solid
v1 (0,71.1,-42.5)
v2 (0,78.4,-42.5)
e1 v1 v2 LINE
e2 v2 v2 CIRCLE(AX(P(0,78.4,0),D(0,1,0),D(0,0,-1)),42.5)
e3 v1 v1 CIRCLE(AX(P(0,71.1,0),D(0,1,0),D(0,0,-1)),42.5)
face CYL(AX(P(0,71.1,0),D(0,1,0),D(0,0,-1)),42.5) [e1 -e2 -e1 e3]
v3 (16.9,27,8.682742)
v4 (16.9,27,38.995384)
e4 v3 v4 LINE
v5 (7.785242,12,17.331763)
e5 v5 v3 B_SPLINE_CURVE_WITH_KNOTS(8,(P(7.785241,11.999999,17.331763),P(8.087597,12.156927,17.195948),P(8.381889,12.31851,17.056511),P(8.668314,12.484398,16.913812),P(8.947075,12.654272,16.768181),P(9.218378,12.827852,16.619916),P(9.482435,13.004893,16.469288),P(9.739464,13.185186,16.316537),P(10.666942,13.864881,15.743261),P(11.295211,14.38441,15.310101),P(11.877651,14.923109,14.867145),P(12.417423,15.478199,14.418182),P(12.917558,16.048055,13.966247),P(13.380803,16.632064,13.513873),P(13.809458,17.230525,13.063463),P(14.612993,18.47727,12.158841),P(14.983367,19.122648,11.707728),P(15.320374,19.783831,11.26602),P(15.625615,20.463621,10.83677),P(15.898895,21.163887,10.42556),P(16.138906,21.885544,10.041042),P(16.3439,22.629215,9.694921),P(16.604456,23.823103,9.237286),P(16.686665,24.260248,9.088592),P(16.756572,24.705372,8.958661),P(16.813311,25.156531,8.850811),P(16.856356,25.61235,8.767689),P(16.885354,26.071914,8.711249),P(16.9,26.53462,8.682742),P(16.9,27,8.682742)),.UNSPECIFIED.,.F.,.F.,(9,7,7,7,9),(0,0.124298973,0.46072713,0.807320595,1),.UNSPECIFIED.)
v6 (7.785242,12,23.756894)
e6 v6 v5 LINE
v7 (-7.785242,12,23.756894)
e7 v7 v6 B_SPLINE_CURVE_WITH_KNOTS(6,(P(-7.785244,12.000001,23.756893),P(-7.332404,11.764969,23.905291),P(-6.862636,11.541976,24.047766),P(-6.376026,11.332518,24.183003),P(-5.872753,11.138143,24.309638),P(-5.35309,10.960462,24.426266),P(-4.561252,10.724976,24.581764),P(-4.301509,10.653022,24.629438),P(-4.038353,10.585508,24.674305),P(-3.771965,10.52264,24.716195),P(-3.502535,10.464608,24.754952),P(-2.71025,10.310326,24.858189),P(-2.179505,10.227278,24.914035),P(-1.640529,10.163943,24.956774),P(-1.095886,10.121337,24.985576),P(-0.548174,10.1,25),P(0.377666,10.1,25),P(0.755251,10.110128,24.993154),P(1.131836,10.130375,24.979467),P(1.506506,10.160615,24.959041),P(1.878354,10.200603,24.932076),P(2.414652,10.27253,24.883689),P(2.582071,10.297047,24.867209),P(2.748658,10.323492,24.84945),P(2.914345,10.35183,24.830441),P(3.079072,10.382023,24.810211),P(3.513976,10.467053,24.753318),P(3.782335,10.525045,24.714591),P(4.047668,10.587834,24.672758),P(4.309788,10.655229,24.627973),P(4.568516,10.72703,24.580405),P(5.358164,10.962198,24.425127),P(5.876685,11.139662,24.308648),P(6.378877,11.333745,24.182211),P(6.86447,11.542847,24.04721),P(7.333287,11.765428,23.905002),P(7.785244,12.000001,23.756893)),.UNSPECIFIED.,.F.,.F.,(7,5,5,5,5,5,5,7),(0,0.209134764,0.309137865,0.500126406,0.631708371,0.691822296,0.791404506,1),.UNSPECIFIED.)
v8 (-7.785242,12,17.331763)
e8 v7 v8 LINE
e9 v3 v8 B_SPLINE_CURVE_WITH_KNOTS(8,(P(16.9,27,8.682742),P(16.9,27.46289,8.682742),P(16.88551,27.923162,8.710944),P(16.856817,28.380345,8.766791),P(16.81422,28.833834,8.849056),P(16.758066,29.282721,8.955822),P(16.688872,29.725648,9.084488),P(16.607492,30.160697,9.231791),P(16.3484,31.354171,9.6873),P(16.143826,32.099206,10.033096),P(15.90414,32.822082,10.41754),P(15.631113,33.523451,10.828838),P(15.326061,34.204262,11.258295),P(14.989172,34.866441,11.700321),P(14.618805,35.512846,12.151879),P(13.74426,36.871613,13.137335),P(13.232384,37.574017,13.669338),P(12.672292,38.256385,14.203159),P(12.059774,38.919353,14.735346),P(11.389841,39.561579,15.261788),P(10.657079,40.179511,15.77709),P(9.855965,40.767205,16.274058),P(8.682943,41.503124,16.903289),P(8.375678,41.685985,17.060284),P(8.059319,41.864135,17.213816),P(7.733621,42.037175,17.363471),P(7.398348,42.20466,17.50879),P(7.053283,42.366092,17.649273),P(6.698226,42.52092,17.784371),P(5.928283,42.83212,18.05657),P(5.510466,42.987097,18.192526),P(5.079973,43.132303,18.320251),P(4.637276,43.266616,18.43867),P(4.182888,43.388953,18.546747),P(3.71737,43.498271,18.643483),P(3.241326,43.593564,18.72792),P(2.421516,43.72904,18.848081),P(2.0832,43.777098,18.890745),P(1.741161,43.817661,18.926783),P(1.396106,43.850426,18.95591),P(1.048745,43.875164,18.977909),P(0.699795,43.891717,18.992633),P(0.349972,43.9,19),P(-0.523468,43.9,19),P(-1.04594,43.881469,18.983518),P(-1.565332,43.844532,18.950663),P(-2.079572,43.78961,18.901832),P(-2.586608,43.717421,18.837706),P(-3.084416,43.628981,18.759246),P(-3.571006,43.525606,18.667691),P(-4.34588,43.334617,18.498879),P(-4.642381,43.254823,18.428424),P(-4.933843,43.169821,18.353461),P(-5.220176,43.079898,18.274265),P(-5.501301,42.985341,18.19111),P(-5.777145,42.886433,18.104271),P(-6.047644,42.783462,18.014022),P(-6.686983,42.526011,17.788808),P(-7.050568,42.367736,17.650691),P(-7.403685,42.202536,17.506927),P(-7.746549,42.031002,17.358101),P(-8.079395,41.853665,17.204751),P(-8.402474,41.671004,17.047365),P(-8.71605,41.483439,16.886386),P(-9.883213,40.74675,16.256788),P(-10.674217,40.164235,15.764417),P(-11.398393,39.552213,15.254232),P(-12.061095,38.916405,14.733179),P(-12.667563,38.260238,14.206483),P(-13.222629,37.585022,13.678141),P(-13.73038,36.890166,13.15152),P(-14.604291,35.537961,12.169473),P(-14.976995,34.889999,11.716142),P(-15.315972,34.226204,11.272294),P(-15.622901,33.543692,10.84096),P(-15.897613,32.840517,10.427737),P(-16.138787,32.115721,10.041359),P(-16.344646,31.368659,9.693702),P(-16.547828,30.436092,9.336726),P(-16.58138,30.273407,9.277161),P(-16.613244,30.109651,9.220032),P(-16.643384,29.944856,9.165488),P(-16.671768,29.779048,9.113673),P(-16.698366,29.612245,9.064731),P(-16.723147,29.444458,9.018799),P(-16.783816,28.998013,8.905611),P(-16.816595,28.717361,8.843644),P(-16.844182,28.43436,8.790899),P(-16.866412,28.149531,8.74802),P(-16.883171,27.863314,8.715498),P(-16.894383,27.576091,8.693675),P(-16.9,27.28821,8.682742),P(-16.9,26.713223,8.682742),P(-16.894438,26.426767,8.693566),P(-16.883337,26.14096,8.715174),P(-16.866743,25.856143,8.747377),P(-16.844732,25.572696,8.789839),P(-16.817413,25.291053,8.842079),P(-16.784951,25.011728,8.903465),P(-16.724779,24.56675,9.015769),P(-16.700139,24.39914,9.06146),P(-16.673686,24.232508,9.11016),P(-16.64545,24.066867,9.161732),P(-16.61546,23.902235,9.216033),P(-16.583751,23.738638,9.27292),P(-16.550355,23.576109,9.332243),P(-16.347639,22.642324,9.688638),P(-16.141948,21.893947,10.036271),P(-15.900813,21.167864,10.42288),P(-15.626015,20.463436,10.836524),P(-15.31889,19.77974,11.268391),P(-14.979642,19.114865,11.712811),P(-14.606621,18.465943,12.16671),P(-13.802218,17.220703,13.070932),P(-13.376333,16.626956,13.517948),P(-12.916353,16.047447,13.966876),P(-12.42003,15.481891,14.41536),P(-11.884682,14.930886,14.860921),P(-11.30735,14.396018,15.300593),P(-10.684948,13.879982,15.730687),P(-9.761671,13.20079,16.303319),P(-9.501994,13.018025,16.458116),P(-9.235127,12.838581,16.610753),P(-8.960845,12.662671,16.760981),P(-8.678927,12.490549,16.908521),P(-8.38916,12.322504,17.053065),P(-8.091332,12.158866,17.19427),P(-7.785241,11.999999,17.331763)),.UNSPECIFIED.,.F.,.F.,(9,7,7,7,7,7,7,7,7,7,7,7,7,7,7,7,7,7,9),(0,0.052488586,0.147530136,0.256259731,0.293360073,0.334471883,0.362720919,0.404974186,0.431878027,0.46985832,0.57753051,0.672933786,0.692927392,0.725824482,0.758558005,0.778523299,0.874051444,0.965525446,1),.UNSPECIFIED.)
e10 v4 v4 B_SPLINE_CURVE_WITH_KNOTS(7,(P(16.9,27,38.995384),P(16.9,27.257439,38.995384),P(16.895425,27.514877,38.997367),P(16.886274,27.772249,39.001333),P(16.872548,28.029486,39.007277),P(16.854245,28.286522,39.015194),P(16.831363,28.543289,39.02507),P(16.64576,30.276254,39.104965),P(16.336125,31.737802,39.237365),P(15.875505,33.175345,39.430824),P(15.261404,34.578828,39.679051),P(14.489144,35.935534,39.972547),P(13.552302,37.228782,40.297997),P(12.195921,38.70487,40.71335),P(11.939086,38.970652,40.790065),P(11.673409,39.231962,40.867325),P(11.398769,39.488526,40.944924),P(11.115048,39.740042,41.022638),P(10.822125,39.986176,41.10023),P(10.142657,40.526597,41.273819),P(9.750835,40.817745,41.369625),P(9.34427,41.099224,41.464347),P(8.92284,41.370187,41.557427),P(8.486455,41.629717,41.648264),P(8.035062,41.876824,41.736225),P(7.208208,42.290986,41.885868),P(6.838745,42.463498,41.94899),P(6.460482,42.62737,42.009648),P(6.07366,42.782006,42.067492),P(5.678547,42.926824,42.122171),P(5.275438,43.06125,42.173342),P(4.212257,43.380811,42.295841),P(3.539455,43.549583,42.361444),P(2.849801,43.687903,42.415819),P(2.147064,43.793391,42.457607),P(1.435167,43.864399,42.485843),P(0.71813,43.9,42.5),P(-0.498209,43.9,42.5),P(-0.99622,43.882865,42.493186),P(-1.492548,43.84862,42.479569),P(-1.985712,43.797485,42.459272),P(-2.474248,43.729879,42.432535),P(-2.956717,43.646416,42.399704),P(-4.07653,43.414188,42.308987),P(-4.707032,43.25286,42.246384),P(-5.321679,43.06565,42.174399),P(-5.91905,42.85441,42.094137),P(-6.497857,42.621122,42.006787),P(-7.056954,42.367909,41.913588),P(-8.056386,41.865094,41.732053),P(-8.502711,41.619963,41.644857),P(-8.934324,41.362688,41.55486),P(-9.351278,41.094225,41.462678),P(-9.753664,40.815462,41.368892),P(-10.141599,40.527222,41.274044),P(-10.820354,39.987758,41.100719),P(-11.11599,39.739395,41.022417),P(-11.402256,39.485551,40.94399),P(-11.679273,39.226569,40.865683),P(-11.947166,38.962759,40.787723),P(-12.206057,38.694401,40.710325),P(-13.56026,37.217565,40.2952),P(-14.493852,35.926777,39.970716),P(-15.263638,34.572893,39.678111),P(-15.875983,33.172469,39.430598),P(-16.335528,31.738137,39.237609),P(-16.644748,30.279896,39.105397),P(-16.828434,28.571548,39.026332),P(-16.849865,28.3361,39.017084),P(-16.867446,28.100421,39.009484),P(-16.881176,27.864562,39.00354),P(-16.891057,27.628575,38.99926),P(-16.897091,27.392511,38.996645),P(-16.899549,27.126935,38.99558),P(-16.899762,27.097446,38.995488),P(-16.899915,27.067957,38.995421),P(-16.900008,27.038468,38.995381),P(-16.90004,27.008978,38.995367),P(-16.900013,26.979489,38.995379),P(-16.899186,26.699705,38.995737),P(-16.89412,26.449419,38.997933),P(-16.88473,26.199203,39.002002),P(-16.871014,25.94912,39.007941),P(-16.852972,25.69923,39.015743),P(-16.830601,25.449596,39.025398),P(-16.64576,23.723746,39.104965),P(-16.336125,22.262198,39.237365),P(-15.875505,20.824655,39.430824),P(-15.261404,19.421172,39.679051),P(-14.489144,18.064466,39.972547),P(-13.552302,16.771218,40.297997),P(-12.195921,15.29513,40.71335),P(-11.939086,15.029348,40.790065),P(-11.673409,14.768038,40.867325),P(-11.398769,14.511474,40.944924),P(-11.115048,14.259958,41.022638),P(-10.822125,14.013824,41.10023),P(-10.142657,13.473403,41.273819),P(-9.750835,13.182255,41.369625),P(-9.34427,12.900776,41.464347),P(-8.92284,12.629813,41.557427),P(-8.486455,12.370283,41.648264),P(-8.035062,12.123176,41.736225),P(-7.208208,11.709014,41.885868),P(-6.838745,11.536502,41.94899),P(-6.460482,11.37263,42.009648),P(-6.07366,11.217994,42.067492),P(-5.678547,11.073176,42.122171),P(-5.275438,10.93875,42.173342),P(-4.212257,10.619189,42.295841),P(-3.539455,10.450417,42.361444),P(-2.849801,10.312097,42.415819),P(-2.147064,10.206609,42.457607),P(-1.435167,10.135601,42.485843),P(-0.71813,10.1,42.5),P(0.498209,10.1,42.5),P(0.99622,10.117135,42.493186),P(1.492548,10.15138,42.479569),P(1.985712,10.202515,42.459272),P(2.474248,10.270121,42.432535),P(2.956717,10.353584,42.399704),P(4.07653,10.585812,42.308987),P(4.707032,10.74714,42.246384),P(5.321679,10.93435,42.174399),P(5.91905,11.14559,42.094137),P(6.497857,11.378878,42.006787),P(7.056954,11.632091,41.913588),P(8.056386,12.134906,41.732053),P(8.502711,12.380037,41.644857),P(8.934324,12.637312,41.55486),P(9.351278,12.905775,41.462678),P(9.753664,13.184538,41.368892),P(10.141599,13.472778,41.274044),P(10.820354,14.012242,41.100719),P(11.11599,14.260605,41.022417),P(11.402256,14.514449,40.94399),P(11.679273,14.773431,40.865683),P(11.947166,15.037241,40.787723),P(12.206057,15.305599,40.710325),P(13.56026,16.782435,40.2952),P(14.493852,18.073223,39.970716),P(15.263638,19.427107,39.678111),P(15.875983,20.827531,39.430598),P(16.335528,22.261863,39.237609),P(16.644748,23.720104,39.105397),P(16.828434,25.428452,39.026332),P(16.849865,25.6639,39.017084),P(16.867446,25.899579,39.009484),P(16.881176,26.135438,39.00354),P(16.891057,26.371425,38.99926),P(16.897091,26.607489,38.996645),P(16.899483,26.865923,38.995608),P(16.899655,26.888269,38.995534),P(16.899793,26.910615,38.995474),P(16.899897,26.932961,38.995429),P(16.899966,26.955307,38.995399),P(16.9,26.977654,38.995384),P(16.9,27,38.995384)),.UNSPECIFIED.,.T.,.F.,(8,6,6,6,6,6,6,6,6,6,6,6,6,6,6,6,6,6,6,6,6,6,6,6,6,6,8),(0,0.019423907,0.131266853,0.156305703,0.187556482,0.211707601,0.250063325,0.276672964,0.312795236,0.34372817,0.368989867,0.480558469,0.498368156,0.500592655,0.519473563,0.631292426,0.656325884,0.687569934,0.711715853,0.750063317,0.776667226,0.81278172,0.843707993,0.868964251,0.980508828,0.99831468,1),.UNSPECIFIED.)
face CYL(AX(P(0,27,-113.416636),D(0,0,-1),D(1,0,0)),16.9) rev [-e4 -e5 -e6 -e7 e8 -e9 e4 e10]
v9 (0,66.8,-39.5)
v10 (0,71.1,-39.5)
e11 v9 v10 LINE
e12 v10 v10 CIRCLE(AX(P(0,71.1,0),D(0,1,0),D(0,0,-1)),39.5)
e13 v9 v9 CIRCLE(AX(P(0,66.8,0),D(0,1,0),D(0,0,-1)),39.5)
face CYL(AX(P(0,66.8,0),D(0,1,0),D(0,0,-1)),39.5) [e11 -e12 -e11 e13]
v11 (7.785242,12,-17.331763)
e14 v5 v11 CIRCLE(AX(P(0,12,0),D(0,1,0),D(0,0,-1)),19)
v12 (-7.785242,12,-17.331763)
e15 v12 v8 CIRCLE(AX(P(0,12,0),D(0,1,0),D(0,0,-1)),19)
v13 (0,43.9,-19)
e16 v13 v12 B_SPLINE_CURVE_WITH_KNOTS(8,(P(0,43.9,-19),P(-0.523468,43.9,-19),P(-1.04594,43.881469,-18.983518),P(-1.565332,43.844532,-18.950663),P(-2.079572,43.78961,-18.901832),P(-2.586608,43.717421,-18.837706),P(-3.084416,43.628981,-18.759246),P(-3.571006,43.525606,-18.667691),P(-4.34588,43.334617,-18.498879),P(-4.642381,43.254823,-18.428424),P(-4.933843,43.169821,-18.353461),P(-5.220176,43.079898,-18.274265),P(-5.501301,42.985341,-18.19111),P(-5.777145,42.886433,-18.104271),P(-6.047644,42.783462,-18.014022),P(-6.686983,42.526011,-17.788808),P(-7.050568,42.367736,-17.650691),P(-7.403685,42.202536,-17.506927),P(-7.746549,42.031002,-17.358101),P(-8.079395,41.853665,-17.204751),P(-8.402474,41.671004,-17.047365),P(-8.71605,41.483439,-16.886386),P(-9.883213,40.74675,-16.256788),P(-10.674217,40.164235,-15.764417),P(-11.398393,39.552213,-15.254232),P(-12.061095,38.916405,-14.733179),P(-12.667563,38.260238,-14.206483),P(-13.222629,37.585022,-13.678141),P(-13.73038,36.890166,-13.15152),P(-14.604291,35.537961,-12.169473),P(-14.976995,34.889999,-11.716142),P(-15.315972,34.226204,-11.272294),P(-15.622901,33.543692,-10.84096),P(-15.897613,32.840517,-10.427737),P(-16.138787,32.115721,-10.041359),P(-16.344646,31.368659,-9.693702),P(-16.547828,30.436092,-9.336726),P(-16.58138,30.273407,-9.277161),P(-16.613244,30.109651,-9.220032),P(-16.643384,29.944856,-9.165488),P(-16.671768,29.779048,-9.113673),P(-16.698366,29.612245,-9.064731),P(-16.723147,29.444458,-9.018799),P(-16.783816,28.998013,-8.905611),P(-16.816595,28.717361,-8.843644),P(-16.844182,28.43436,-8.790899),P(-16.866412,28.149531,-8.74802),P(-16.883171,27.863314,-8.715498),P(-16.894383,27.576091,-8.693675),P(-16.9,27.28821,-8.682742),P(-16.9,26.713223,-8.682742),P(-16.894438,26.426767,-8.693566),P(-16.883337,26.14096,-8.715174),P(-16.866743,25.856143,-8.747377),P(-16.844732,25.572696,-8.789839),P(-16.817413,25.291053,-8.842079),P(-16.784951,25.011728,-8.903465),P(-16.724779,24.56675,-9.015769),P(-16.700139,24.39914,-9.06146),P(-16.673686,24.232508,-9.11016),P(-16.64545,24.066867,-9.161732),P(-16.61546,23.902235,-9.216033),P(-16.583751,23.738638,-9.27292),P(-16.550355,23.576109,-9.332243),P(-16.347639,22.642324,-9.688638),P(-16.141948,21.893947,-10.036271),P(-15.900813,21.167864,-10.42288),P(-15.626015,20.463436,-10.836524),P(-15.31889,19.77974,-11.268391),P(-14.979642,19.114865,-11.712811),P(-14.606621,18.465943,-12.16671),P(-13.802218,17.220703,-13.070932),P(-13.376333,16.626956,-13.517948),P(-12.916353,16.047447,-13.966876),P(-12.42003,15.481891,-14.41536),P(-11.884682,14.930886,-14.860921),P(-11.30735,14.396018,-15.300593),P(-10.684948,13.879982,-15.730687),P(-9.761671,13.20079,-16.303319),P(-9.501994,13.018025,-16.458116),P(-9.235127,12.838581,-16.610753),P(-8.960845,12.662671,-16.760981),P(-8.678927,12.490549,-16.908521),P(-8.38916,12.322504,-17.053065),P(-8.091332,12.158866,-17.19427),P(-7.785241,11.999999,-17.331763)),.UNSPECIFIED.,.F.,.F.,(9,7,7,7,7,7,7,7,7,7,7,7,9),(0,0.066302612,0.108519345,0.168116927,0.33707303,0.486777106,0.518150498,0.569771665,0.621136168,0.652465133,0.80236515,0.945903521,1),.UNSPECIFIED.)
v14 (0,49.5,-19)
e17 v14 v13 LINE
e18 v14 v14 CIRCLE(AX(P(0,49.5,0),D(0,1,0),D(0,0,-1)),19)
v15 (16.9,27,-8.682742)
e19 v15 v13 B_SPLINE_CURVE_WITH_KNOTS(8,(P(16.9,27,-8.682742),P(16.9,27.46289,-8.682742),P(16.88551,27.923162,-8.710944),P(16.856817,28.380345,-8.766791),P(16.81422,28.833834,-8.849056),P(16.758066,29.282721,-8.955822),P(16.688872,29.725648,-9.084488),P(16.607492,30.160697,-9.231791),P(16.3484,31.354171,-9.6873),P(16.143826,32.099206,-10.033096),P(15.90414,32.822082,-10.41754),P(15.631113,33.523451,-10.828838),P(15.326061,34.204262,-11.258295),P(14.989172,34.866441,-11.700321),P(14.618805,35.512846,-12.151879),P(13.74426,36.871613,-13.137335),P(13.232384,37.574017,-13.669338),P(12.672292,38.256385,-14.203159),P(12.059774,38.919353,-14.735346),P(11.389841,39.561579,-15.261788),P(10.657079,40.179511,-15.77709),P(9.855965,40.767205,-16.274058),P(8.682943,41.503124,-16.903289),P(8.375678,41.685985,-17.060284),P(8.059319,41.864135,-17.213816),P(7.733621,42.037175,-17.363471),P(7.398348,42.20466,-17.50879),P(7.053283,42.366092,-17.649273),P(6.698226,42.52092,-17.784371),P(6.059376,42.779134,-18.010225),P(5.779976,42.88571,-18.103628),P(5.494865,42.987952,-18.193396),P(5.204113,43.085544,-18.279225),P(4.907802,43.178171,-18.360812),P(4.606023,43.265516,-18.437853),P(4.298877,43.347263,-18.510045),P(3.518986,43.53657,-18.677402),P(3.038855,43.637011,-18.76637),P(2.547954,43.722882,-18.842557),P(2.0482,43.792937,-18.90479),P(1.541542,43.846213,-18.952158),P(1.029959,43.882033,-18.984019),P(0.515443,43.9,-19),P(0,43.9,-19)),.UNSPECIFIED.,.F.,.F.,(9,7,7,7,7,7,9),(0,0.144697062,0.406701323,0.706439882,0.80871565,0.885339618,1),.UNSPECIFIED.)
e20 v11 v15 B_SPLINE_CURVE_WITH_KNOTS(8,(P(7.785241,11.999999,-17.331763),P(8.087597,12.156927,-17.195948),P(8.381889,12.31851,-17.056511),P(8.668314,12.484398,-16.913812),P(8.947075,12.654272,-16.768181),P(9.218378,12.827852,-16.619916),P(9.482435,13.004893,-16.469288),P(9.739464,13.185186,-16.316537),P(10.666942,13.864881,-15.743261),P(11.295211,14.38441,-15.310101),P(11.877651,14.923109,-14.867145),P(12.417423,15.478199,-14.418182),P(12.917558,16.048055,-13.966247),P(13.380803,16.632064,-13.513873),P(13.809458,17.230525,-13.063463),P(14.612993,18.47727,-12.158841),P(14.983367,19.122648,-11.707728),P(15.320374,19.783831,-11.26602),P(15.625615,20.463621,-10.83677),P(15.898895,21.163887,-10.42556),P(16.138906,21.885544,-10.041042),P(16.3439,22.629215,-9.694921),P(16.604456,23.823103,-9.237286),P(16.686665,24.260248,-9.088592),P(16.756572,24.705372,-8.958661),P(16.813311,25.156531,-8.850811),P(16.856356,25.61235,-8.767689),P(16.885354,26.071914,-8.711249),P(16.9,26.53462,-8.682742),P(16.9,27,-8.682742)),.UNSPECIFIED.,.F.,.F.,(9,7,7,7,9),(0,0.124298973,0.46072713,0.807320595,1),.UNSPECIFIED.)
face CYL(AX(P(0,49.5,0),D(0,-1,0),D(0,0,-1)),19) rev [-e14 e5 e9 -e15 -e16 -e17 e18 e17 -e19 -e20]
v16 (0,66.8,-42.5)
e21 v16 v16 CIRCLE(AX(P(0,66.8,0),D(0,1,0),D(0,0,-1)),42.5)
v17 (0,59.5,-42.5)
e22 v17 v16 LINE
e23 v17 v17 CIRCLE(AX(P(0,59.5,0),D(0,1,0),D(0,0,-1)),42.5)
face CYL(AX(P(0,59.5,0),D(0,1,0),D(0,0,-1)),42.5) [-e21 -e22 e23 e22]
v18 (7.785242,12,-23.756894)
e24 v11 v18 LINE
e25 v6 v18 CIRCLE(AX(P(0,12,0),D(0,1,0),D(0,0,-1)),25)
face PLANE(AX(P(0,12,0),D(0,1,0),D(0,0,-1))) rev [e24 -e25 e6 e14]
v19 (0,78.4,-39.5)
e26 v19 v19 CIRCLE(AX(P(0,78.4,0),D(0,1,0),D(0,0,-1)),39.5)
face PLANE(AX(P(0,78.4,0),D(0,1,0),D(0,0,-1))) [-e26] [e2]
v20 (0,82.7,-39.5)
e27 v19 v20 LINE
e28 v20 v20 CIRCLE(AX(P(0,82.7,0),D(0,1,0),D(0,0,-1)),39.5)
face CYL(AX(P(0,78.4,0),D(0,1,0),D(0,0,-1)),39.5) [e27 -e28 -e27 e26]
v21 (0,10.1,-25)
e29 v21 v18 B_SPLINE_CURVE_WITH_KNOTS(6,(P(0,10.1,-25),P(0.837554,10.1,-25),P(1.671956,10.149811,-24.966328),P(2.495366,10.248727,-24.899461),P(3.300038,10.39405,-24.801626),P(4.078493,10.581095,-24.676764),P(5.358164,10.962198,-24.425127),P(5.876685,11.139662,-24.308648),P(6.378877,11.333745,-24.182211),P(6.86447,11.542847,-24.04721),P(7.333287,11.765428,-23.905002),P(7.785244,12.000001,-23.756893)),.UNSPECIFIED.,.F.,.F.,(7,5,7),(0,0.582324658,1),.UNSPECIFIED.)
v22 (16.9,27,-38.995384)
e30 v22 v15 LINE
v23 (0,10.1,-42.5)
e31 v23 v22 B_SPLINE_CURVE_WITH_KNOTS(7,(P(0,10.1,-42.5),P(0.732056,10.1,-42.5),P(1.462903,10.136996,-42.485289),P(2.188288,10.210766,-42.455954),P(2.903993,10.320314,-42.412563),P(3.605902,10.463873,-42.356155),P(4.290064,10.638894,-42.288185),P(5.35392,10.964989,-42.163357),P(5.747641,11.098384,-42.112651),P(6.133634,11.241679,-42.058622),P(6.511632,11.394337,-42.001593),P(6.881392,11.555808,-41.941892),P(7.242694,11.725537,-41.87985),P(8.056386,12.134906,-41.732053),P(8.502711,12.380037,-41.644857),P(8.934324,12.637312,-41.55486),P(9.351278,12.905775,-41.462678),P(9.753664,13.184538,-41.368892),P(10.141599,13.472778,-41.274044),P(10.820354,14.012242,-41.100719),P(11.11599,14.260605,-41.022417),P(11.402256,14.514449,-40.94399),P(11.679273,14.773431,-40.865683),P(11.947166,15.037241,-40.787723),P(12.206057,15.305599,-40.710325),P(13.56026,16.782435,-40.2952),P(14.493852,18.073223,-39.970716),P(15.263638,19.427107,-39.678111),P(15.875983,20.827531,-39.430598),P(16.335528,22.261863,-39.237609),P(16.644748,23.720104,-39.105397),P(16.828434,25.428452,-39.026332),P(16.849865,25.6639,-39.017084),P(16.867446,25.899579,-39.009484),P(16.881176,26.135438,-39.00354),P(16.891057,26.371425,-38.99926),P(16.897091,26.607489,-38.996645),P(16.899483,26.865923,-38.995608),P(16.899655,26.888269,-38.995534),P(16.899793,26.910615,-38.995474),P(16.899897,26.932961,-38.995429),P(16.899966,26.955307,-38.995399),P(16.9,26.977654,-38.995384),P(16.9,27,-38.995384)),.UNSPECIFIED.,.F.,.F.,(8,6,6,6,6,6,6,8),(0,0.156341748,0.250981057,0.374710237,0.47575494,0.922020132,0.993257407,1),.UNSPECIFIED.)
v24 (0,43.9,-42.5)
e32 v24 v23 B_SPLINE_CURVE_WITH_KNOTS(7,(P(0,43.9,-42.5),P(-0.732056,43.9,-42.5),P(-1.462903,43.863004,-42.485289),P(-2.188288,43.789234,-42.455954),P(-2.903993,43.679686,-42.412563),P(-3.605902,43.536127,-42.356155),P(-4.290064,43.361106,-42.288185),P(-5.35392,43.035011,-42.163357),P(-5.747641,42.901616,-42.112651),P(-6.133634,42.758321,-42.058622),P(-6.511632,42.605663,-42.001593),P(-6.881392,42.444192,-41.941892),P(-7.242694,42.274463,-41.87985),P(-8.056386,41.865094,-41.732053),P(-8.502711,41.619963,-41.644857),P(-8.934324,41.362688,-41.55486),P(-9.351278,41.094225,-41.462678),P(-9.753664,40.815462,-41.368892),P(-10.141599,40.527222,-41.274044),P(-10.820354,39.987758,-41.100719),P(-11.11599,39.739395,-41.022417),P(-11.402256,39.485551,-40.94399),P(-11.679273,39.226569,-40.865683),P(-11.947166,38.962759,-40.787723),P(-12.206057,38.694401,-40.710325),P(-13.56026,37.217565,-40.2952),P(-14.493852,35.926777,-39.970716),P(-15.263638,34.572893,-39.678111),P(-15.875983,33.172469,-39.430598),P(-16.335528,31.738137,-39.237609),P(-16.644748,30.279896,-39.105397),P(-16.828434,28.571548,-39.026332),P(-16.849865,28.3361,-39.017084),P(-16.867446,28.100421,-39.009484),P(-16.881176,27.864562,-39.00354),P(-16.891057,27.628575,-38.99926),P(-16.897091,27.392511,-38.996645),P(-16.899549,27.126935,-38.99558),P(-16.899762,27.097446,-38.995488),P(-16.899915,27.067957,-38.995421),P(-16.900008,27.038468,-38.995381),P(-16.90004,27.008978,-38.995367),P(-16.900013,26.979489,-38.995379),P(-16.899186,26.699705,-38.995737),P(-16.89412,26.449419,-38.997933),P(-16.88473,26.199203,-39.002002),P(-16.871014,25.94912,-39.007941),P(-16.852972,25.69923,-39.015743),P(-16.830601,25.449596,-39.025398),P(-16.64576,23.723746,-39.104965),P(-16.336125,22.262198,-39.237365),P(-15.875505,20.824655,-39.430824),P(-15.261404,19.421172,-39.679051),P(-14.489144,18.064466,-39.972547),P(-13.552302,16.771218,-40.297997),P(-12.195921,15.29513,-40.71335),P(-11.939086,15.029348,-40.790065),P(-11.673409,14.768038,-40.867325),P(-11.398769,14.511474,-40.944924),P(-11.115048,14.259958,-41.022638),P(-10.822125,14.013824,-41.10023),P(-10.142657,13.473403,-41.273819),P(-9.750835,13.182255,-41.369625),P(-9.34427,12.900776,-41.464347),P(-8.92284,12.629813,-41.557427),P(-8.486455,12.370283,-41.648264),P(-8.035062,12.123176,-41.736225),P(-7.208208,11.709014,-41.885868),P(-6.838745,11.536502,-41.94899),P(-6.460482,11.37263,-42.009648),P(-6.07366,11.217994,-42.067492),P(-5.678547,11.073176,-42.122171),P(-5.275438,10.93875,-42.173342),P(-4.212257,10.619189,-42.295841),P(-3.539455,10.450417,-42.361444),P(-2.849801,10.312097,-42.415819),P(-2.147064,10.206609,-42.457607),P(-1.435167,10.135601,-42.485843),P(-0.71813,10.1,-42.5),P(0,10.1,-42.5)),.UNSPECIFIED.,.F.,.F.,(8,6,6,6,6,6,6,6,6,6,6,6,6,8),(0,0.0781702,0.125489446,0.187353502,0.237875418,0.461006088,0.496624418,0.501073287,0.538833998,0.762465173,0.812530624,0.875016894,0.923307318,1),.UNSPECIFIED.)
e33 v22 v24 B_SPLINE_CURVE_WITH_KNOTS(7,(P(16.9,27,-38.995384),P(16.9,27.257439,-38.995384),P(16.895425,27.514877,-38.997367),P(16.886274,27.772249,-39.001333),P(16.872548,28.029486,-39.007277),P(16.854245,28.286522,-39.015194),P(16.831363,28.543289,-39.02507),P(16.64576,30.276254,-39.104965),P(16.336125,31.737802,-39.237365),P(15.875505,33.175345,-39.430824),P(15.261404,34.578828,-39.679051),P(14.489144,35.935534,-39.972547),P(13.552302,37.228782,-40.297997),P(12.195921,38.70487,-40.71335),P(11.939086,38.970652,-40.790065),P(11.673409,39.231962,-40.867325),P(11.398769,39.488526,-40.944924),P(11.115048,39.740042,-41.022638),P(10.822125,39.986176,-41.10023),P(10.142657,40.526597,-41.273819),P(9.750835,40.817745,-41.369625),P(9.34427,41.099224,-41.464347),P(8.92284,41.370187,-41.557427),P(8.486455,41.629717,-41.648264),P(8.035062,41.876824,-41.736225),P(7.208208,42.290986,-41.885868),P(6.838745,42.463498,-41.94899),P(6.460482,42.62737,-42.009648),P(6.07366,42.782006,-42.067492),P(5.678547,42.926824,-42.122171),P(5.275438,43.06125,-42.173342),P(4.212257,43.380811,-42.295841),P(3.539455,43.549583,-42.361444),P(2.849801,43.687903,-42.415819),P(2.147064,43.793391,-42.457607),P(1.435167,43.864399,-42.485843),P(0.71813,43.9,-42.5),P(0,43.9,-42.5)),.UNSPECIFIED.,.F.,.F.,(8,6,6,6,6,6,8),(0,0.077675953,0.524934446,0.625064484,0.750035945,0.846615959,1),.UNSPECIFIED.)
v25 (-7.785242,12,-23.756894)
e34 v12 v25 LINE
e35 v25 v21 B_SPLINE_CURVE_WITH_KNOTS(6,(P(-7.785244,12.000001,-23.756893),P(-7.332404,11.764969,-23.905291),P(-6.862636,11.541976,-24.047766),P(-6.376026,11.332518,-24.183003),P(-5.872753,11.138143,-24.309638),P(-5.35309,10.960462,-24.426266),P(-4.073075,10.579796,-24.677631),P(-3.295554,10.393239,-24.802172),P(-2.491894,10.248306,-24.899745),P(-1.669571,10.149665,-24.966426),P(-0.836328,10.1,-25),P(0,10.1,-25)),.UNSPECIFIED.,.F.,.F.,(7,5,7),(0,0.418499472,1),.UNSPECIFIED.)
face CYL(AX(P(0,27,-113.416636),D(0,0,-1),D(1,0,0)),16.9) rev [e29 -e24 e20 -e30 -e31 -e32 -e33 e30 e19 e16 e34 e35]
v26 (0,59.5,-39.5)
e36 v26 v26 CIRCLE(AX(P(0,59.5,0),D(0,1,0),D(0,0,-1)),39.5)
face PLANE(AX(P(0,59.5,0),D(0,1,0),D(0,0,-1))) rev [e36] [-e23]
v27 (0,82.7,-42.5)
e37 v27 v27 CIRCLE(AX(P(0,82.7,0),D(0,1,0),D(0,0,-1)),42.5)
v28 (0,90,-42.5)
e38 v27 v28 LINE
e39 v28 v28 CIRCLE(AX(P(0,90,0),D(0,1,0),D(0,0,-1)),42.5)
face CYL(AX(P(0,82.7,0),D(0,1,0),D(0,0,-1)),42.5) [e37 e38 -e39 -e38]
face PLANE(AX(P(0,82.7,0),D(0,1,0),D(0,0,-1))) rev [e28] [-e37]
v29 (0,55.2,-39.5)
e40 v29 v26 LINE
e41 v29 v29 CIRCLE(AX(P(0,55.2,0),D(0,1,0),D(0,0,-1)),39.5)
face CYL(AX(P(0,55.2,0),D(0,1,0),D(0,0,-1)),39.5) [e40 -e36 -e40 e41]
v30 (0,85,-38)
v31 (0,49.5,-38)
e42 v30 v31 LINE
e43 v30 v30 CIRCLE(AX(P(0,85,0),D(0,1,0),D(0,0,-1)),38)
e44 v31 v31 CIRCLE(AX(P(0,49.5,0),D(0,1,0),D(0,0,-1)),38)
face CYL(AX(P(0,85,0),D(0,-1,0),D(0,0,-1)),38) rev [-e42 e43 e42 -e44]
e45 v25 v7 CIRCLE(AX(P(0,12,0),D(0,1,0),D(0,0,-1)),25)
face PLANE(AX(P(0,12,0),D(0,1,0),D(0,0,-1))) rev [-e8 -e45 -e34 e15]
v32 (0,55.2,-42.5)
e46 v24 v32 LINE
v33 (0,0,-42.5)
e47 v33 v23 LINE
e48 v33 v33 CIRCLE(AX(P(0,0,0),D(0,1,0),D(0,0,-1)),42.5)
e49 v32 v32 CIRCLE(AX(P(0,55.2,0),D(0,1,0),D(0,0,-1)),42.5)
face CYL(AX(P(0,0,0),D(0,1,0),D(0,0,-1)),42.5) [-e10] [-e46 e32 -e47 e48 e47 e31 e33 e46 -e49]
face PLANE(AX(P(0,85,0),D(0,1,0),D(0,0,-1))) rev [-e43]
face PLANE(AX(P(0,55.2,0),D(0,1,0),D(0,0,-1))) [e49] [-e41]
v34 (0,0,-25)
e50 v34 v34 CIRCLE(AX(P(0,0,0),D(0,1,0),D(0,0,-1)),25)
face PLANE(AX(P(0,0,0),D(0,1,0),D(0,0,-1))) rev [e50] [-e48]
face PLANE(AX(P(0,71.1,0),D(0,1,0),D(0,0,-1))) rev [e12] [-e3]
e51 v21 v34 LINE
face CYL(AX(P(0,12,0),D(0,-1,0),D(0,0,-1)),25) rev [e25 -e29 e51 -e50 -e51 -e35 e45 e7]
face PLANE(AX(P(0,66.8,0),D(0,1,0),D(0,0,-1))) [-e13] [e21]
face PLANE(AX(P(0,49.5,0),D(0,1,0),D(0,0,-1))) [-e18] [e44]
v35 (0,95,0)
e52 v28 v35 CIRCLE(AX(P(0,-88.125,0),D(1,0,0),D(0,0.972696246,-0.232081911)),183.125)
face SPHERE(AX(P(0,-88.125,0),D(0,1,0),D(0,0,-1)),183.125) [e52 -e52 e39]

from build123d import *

# Parameters (mm, degrees)
CUT_EXTRUDE1_DEPTH      = 113.41663578
CUT_EXTRUDE1_DEPTH_BACK = 113.41663578
SKETCH6_R               = 16.9


with BuildPart() as part:
    # Sketch5 → Revolve1 (revolve)
    with BuildSketch(Plane.XY, mode=Mode.PRIVATE) as revolve1_sk:
        with BuildLine():
            Line((25, 0), (42.5, 0))
            Line((42.5, 0), (42.5, 55.2))
            Line((42.5, 55.2), (39.5, 55.2))
            Line((39.5, 55.2), (39.5, 59.5))
            Line((39.5, 59.5), (42.5, 59.5))
            Line((42.5, 59.5), (42.5, 66.8))
            Line((42.5, 66.8), (39.5, 66.8))
            Line((39.5, 66.8), (39.5, 71.1))
            Line((39.5, 71.1), (42.5, 71.1))
            Line((42.5, 71.1), (42.5, 78.4))
            Line((42.5, 78.4), (39.5, 78.4))
            Line((39.5, 78.4), (39.5, 82.7))
            Line((39.5, 82.7), (42.5, 82.7))
            Line((42.5, 82.7), (42.5, 90))
            ThreePointArc((42.5, 90), (21.396553461, 93.745704417), (0, 95))
            Line((0, 95), (0, 90))
            Line((0, 90), (0, 85))
            Line((0, 85), (38, 85))
            Line((38, 85), (38, 49.5))
            Line((38, 49.5), (19, 49.5))
            Line((19, 49.5), (19, 12))
            Line((19, 12), (25, 12))
            Line((25, 12), (25, 0))
        make_face()
    revolve(revolve1_sk.sketch.rotate(Axis((0, 0, 0), (0, 1, 0)), 90), axis=Axis((0, 0, 0), (0, 1, 0)))

    # Sketch6 → Cut-Extrude1 (cut, two sides: drawn at the far end of the back side and taken through both)
    with BuildSketch(Plane.XY.offset(-CUT_EXTRUDE1_DEPTH_BACK)):
        with Locations((0, 27)):
            Circle(SKETCH6_R)
    extrude(amount=CUT_EXTRUDE1_DEPTH + CUT_EXTRUDE1_DEPTH_BACK, mode=Mode.SUBTRACT)


solid = part.part
